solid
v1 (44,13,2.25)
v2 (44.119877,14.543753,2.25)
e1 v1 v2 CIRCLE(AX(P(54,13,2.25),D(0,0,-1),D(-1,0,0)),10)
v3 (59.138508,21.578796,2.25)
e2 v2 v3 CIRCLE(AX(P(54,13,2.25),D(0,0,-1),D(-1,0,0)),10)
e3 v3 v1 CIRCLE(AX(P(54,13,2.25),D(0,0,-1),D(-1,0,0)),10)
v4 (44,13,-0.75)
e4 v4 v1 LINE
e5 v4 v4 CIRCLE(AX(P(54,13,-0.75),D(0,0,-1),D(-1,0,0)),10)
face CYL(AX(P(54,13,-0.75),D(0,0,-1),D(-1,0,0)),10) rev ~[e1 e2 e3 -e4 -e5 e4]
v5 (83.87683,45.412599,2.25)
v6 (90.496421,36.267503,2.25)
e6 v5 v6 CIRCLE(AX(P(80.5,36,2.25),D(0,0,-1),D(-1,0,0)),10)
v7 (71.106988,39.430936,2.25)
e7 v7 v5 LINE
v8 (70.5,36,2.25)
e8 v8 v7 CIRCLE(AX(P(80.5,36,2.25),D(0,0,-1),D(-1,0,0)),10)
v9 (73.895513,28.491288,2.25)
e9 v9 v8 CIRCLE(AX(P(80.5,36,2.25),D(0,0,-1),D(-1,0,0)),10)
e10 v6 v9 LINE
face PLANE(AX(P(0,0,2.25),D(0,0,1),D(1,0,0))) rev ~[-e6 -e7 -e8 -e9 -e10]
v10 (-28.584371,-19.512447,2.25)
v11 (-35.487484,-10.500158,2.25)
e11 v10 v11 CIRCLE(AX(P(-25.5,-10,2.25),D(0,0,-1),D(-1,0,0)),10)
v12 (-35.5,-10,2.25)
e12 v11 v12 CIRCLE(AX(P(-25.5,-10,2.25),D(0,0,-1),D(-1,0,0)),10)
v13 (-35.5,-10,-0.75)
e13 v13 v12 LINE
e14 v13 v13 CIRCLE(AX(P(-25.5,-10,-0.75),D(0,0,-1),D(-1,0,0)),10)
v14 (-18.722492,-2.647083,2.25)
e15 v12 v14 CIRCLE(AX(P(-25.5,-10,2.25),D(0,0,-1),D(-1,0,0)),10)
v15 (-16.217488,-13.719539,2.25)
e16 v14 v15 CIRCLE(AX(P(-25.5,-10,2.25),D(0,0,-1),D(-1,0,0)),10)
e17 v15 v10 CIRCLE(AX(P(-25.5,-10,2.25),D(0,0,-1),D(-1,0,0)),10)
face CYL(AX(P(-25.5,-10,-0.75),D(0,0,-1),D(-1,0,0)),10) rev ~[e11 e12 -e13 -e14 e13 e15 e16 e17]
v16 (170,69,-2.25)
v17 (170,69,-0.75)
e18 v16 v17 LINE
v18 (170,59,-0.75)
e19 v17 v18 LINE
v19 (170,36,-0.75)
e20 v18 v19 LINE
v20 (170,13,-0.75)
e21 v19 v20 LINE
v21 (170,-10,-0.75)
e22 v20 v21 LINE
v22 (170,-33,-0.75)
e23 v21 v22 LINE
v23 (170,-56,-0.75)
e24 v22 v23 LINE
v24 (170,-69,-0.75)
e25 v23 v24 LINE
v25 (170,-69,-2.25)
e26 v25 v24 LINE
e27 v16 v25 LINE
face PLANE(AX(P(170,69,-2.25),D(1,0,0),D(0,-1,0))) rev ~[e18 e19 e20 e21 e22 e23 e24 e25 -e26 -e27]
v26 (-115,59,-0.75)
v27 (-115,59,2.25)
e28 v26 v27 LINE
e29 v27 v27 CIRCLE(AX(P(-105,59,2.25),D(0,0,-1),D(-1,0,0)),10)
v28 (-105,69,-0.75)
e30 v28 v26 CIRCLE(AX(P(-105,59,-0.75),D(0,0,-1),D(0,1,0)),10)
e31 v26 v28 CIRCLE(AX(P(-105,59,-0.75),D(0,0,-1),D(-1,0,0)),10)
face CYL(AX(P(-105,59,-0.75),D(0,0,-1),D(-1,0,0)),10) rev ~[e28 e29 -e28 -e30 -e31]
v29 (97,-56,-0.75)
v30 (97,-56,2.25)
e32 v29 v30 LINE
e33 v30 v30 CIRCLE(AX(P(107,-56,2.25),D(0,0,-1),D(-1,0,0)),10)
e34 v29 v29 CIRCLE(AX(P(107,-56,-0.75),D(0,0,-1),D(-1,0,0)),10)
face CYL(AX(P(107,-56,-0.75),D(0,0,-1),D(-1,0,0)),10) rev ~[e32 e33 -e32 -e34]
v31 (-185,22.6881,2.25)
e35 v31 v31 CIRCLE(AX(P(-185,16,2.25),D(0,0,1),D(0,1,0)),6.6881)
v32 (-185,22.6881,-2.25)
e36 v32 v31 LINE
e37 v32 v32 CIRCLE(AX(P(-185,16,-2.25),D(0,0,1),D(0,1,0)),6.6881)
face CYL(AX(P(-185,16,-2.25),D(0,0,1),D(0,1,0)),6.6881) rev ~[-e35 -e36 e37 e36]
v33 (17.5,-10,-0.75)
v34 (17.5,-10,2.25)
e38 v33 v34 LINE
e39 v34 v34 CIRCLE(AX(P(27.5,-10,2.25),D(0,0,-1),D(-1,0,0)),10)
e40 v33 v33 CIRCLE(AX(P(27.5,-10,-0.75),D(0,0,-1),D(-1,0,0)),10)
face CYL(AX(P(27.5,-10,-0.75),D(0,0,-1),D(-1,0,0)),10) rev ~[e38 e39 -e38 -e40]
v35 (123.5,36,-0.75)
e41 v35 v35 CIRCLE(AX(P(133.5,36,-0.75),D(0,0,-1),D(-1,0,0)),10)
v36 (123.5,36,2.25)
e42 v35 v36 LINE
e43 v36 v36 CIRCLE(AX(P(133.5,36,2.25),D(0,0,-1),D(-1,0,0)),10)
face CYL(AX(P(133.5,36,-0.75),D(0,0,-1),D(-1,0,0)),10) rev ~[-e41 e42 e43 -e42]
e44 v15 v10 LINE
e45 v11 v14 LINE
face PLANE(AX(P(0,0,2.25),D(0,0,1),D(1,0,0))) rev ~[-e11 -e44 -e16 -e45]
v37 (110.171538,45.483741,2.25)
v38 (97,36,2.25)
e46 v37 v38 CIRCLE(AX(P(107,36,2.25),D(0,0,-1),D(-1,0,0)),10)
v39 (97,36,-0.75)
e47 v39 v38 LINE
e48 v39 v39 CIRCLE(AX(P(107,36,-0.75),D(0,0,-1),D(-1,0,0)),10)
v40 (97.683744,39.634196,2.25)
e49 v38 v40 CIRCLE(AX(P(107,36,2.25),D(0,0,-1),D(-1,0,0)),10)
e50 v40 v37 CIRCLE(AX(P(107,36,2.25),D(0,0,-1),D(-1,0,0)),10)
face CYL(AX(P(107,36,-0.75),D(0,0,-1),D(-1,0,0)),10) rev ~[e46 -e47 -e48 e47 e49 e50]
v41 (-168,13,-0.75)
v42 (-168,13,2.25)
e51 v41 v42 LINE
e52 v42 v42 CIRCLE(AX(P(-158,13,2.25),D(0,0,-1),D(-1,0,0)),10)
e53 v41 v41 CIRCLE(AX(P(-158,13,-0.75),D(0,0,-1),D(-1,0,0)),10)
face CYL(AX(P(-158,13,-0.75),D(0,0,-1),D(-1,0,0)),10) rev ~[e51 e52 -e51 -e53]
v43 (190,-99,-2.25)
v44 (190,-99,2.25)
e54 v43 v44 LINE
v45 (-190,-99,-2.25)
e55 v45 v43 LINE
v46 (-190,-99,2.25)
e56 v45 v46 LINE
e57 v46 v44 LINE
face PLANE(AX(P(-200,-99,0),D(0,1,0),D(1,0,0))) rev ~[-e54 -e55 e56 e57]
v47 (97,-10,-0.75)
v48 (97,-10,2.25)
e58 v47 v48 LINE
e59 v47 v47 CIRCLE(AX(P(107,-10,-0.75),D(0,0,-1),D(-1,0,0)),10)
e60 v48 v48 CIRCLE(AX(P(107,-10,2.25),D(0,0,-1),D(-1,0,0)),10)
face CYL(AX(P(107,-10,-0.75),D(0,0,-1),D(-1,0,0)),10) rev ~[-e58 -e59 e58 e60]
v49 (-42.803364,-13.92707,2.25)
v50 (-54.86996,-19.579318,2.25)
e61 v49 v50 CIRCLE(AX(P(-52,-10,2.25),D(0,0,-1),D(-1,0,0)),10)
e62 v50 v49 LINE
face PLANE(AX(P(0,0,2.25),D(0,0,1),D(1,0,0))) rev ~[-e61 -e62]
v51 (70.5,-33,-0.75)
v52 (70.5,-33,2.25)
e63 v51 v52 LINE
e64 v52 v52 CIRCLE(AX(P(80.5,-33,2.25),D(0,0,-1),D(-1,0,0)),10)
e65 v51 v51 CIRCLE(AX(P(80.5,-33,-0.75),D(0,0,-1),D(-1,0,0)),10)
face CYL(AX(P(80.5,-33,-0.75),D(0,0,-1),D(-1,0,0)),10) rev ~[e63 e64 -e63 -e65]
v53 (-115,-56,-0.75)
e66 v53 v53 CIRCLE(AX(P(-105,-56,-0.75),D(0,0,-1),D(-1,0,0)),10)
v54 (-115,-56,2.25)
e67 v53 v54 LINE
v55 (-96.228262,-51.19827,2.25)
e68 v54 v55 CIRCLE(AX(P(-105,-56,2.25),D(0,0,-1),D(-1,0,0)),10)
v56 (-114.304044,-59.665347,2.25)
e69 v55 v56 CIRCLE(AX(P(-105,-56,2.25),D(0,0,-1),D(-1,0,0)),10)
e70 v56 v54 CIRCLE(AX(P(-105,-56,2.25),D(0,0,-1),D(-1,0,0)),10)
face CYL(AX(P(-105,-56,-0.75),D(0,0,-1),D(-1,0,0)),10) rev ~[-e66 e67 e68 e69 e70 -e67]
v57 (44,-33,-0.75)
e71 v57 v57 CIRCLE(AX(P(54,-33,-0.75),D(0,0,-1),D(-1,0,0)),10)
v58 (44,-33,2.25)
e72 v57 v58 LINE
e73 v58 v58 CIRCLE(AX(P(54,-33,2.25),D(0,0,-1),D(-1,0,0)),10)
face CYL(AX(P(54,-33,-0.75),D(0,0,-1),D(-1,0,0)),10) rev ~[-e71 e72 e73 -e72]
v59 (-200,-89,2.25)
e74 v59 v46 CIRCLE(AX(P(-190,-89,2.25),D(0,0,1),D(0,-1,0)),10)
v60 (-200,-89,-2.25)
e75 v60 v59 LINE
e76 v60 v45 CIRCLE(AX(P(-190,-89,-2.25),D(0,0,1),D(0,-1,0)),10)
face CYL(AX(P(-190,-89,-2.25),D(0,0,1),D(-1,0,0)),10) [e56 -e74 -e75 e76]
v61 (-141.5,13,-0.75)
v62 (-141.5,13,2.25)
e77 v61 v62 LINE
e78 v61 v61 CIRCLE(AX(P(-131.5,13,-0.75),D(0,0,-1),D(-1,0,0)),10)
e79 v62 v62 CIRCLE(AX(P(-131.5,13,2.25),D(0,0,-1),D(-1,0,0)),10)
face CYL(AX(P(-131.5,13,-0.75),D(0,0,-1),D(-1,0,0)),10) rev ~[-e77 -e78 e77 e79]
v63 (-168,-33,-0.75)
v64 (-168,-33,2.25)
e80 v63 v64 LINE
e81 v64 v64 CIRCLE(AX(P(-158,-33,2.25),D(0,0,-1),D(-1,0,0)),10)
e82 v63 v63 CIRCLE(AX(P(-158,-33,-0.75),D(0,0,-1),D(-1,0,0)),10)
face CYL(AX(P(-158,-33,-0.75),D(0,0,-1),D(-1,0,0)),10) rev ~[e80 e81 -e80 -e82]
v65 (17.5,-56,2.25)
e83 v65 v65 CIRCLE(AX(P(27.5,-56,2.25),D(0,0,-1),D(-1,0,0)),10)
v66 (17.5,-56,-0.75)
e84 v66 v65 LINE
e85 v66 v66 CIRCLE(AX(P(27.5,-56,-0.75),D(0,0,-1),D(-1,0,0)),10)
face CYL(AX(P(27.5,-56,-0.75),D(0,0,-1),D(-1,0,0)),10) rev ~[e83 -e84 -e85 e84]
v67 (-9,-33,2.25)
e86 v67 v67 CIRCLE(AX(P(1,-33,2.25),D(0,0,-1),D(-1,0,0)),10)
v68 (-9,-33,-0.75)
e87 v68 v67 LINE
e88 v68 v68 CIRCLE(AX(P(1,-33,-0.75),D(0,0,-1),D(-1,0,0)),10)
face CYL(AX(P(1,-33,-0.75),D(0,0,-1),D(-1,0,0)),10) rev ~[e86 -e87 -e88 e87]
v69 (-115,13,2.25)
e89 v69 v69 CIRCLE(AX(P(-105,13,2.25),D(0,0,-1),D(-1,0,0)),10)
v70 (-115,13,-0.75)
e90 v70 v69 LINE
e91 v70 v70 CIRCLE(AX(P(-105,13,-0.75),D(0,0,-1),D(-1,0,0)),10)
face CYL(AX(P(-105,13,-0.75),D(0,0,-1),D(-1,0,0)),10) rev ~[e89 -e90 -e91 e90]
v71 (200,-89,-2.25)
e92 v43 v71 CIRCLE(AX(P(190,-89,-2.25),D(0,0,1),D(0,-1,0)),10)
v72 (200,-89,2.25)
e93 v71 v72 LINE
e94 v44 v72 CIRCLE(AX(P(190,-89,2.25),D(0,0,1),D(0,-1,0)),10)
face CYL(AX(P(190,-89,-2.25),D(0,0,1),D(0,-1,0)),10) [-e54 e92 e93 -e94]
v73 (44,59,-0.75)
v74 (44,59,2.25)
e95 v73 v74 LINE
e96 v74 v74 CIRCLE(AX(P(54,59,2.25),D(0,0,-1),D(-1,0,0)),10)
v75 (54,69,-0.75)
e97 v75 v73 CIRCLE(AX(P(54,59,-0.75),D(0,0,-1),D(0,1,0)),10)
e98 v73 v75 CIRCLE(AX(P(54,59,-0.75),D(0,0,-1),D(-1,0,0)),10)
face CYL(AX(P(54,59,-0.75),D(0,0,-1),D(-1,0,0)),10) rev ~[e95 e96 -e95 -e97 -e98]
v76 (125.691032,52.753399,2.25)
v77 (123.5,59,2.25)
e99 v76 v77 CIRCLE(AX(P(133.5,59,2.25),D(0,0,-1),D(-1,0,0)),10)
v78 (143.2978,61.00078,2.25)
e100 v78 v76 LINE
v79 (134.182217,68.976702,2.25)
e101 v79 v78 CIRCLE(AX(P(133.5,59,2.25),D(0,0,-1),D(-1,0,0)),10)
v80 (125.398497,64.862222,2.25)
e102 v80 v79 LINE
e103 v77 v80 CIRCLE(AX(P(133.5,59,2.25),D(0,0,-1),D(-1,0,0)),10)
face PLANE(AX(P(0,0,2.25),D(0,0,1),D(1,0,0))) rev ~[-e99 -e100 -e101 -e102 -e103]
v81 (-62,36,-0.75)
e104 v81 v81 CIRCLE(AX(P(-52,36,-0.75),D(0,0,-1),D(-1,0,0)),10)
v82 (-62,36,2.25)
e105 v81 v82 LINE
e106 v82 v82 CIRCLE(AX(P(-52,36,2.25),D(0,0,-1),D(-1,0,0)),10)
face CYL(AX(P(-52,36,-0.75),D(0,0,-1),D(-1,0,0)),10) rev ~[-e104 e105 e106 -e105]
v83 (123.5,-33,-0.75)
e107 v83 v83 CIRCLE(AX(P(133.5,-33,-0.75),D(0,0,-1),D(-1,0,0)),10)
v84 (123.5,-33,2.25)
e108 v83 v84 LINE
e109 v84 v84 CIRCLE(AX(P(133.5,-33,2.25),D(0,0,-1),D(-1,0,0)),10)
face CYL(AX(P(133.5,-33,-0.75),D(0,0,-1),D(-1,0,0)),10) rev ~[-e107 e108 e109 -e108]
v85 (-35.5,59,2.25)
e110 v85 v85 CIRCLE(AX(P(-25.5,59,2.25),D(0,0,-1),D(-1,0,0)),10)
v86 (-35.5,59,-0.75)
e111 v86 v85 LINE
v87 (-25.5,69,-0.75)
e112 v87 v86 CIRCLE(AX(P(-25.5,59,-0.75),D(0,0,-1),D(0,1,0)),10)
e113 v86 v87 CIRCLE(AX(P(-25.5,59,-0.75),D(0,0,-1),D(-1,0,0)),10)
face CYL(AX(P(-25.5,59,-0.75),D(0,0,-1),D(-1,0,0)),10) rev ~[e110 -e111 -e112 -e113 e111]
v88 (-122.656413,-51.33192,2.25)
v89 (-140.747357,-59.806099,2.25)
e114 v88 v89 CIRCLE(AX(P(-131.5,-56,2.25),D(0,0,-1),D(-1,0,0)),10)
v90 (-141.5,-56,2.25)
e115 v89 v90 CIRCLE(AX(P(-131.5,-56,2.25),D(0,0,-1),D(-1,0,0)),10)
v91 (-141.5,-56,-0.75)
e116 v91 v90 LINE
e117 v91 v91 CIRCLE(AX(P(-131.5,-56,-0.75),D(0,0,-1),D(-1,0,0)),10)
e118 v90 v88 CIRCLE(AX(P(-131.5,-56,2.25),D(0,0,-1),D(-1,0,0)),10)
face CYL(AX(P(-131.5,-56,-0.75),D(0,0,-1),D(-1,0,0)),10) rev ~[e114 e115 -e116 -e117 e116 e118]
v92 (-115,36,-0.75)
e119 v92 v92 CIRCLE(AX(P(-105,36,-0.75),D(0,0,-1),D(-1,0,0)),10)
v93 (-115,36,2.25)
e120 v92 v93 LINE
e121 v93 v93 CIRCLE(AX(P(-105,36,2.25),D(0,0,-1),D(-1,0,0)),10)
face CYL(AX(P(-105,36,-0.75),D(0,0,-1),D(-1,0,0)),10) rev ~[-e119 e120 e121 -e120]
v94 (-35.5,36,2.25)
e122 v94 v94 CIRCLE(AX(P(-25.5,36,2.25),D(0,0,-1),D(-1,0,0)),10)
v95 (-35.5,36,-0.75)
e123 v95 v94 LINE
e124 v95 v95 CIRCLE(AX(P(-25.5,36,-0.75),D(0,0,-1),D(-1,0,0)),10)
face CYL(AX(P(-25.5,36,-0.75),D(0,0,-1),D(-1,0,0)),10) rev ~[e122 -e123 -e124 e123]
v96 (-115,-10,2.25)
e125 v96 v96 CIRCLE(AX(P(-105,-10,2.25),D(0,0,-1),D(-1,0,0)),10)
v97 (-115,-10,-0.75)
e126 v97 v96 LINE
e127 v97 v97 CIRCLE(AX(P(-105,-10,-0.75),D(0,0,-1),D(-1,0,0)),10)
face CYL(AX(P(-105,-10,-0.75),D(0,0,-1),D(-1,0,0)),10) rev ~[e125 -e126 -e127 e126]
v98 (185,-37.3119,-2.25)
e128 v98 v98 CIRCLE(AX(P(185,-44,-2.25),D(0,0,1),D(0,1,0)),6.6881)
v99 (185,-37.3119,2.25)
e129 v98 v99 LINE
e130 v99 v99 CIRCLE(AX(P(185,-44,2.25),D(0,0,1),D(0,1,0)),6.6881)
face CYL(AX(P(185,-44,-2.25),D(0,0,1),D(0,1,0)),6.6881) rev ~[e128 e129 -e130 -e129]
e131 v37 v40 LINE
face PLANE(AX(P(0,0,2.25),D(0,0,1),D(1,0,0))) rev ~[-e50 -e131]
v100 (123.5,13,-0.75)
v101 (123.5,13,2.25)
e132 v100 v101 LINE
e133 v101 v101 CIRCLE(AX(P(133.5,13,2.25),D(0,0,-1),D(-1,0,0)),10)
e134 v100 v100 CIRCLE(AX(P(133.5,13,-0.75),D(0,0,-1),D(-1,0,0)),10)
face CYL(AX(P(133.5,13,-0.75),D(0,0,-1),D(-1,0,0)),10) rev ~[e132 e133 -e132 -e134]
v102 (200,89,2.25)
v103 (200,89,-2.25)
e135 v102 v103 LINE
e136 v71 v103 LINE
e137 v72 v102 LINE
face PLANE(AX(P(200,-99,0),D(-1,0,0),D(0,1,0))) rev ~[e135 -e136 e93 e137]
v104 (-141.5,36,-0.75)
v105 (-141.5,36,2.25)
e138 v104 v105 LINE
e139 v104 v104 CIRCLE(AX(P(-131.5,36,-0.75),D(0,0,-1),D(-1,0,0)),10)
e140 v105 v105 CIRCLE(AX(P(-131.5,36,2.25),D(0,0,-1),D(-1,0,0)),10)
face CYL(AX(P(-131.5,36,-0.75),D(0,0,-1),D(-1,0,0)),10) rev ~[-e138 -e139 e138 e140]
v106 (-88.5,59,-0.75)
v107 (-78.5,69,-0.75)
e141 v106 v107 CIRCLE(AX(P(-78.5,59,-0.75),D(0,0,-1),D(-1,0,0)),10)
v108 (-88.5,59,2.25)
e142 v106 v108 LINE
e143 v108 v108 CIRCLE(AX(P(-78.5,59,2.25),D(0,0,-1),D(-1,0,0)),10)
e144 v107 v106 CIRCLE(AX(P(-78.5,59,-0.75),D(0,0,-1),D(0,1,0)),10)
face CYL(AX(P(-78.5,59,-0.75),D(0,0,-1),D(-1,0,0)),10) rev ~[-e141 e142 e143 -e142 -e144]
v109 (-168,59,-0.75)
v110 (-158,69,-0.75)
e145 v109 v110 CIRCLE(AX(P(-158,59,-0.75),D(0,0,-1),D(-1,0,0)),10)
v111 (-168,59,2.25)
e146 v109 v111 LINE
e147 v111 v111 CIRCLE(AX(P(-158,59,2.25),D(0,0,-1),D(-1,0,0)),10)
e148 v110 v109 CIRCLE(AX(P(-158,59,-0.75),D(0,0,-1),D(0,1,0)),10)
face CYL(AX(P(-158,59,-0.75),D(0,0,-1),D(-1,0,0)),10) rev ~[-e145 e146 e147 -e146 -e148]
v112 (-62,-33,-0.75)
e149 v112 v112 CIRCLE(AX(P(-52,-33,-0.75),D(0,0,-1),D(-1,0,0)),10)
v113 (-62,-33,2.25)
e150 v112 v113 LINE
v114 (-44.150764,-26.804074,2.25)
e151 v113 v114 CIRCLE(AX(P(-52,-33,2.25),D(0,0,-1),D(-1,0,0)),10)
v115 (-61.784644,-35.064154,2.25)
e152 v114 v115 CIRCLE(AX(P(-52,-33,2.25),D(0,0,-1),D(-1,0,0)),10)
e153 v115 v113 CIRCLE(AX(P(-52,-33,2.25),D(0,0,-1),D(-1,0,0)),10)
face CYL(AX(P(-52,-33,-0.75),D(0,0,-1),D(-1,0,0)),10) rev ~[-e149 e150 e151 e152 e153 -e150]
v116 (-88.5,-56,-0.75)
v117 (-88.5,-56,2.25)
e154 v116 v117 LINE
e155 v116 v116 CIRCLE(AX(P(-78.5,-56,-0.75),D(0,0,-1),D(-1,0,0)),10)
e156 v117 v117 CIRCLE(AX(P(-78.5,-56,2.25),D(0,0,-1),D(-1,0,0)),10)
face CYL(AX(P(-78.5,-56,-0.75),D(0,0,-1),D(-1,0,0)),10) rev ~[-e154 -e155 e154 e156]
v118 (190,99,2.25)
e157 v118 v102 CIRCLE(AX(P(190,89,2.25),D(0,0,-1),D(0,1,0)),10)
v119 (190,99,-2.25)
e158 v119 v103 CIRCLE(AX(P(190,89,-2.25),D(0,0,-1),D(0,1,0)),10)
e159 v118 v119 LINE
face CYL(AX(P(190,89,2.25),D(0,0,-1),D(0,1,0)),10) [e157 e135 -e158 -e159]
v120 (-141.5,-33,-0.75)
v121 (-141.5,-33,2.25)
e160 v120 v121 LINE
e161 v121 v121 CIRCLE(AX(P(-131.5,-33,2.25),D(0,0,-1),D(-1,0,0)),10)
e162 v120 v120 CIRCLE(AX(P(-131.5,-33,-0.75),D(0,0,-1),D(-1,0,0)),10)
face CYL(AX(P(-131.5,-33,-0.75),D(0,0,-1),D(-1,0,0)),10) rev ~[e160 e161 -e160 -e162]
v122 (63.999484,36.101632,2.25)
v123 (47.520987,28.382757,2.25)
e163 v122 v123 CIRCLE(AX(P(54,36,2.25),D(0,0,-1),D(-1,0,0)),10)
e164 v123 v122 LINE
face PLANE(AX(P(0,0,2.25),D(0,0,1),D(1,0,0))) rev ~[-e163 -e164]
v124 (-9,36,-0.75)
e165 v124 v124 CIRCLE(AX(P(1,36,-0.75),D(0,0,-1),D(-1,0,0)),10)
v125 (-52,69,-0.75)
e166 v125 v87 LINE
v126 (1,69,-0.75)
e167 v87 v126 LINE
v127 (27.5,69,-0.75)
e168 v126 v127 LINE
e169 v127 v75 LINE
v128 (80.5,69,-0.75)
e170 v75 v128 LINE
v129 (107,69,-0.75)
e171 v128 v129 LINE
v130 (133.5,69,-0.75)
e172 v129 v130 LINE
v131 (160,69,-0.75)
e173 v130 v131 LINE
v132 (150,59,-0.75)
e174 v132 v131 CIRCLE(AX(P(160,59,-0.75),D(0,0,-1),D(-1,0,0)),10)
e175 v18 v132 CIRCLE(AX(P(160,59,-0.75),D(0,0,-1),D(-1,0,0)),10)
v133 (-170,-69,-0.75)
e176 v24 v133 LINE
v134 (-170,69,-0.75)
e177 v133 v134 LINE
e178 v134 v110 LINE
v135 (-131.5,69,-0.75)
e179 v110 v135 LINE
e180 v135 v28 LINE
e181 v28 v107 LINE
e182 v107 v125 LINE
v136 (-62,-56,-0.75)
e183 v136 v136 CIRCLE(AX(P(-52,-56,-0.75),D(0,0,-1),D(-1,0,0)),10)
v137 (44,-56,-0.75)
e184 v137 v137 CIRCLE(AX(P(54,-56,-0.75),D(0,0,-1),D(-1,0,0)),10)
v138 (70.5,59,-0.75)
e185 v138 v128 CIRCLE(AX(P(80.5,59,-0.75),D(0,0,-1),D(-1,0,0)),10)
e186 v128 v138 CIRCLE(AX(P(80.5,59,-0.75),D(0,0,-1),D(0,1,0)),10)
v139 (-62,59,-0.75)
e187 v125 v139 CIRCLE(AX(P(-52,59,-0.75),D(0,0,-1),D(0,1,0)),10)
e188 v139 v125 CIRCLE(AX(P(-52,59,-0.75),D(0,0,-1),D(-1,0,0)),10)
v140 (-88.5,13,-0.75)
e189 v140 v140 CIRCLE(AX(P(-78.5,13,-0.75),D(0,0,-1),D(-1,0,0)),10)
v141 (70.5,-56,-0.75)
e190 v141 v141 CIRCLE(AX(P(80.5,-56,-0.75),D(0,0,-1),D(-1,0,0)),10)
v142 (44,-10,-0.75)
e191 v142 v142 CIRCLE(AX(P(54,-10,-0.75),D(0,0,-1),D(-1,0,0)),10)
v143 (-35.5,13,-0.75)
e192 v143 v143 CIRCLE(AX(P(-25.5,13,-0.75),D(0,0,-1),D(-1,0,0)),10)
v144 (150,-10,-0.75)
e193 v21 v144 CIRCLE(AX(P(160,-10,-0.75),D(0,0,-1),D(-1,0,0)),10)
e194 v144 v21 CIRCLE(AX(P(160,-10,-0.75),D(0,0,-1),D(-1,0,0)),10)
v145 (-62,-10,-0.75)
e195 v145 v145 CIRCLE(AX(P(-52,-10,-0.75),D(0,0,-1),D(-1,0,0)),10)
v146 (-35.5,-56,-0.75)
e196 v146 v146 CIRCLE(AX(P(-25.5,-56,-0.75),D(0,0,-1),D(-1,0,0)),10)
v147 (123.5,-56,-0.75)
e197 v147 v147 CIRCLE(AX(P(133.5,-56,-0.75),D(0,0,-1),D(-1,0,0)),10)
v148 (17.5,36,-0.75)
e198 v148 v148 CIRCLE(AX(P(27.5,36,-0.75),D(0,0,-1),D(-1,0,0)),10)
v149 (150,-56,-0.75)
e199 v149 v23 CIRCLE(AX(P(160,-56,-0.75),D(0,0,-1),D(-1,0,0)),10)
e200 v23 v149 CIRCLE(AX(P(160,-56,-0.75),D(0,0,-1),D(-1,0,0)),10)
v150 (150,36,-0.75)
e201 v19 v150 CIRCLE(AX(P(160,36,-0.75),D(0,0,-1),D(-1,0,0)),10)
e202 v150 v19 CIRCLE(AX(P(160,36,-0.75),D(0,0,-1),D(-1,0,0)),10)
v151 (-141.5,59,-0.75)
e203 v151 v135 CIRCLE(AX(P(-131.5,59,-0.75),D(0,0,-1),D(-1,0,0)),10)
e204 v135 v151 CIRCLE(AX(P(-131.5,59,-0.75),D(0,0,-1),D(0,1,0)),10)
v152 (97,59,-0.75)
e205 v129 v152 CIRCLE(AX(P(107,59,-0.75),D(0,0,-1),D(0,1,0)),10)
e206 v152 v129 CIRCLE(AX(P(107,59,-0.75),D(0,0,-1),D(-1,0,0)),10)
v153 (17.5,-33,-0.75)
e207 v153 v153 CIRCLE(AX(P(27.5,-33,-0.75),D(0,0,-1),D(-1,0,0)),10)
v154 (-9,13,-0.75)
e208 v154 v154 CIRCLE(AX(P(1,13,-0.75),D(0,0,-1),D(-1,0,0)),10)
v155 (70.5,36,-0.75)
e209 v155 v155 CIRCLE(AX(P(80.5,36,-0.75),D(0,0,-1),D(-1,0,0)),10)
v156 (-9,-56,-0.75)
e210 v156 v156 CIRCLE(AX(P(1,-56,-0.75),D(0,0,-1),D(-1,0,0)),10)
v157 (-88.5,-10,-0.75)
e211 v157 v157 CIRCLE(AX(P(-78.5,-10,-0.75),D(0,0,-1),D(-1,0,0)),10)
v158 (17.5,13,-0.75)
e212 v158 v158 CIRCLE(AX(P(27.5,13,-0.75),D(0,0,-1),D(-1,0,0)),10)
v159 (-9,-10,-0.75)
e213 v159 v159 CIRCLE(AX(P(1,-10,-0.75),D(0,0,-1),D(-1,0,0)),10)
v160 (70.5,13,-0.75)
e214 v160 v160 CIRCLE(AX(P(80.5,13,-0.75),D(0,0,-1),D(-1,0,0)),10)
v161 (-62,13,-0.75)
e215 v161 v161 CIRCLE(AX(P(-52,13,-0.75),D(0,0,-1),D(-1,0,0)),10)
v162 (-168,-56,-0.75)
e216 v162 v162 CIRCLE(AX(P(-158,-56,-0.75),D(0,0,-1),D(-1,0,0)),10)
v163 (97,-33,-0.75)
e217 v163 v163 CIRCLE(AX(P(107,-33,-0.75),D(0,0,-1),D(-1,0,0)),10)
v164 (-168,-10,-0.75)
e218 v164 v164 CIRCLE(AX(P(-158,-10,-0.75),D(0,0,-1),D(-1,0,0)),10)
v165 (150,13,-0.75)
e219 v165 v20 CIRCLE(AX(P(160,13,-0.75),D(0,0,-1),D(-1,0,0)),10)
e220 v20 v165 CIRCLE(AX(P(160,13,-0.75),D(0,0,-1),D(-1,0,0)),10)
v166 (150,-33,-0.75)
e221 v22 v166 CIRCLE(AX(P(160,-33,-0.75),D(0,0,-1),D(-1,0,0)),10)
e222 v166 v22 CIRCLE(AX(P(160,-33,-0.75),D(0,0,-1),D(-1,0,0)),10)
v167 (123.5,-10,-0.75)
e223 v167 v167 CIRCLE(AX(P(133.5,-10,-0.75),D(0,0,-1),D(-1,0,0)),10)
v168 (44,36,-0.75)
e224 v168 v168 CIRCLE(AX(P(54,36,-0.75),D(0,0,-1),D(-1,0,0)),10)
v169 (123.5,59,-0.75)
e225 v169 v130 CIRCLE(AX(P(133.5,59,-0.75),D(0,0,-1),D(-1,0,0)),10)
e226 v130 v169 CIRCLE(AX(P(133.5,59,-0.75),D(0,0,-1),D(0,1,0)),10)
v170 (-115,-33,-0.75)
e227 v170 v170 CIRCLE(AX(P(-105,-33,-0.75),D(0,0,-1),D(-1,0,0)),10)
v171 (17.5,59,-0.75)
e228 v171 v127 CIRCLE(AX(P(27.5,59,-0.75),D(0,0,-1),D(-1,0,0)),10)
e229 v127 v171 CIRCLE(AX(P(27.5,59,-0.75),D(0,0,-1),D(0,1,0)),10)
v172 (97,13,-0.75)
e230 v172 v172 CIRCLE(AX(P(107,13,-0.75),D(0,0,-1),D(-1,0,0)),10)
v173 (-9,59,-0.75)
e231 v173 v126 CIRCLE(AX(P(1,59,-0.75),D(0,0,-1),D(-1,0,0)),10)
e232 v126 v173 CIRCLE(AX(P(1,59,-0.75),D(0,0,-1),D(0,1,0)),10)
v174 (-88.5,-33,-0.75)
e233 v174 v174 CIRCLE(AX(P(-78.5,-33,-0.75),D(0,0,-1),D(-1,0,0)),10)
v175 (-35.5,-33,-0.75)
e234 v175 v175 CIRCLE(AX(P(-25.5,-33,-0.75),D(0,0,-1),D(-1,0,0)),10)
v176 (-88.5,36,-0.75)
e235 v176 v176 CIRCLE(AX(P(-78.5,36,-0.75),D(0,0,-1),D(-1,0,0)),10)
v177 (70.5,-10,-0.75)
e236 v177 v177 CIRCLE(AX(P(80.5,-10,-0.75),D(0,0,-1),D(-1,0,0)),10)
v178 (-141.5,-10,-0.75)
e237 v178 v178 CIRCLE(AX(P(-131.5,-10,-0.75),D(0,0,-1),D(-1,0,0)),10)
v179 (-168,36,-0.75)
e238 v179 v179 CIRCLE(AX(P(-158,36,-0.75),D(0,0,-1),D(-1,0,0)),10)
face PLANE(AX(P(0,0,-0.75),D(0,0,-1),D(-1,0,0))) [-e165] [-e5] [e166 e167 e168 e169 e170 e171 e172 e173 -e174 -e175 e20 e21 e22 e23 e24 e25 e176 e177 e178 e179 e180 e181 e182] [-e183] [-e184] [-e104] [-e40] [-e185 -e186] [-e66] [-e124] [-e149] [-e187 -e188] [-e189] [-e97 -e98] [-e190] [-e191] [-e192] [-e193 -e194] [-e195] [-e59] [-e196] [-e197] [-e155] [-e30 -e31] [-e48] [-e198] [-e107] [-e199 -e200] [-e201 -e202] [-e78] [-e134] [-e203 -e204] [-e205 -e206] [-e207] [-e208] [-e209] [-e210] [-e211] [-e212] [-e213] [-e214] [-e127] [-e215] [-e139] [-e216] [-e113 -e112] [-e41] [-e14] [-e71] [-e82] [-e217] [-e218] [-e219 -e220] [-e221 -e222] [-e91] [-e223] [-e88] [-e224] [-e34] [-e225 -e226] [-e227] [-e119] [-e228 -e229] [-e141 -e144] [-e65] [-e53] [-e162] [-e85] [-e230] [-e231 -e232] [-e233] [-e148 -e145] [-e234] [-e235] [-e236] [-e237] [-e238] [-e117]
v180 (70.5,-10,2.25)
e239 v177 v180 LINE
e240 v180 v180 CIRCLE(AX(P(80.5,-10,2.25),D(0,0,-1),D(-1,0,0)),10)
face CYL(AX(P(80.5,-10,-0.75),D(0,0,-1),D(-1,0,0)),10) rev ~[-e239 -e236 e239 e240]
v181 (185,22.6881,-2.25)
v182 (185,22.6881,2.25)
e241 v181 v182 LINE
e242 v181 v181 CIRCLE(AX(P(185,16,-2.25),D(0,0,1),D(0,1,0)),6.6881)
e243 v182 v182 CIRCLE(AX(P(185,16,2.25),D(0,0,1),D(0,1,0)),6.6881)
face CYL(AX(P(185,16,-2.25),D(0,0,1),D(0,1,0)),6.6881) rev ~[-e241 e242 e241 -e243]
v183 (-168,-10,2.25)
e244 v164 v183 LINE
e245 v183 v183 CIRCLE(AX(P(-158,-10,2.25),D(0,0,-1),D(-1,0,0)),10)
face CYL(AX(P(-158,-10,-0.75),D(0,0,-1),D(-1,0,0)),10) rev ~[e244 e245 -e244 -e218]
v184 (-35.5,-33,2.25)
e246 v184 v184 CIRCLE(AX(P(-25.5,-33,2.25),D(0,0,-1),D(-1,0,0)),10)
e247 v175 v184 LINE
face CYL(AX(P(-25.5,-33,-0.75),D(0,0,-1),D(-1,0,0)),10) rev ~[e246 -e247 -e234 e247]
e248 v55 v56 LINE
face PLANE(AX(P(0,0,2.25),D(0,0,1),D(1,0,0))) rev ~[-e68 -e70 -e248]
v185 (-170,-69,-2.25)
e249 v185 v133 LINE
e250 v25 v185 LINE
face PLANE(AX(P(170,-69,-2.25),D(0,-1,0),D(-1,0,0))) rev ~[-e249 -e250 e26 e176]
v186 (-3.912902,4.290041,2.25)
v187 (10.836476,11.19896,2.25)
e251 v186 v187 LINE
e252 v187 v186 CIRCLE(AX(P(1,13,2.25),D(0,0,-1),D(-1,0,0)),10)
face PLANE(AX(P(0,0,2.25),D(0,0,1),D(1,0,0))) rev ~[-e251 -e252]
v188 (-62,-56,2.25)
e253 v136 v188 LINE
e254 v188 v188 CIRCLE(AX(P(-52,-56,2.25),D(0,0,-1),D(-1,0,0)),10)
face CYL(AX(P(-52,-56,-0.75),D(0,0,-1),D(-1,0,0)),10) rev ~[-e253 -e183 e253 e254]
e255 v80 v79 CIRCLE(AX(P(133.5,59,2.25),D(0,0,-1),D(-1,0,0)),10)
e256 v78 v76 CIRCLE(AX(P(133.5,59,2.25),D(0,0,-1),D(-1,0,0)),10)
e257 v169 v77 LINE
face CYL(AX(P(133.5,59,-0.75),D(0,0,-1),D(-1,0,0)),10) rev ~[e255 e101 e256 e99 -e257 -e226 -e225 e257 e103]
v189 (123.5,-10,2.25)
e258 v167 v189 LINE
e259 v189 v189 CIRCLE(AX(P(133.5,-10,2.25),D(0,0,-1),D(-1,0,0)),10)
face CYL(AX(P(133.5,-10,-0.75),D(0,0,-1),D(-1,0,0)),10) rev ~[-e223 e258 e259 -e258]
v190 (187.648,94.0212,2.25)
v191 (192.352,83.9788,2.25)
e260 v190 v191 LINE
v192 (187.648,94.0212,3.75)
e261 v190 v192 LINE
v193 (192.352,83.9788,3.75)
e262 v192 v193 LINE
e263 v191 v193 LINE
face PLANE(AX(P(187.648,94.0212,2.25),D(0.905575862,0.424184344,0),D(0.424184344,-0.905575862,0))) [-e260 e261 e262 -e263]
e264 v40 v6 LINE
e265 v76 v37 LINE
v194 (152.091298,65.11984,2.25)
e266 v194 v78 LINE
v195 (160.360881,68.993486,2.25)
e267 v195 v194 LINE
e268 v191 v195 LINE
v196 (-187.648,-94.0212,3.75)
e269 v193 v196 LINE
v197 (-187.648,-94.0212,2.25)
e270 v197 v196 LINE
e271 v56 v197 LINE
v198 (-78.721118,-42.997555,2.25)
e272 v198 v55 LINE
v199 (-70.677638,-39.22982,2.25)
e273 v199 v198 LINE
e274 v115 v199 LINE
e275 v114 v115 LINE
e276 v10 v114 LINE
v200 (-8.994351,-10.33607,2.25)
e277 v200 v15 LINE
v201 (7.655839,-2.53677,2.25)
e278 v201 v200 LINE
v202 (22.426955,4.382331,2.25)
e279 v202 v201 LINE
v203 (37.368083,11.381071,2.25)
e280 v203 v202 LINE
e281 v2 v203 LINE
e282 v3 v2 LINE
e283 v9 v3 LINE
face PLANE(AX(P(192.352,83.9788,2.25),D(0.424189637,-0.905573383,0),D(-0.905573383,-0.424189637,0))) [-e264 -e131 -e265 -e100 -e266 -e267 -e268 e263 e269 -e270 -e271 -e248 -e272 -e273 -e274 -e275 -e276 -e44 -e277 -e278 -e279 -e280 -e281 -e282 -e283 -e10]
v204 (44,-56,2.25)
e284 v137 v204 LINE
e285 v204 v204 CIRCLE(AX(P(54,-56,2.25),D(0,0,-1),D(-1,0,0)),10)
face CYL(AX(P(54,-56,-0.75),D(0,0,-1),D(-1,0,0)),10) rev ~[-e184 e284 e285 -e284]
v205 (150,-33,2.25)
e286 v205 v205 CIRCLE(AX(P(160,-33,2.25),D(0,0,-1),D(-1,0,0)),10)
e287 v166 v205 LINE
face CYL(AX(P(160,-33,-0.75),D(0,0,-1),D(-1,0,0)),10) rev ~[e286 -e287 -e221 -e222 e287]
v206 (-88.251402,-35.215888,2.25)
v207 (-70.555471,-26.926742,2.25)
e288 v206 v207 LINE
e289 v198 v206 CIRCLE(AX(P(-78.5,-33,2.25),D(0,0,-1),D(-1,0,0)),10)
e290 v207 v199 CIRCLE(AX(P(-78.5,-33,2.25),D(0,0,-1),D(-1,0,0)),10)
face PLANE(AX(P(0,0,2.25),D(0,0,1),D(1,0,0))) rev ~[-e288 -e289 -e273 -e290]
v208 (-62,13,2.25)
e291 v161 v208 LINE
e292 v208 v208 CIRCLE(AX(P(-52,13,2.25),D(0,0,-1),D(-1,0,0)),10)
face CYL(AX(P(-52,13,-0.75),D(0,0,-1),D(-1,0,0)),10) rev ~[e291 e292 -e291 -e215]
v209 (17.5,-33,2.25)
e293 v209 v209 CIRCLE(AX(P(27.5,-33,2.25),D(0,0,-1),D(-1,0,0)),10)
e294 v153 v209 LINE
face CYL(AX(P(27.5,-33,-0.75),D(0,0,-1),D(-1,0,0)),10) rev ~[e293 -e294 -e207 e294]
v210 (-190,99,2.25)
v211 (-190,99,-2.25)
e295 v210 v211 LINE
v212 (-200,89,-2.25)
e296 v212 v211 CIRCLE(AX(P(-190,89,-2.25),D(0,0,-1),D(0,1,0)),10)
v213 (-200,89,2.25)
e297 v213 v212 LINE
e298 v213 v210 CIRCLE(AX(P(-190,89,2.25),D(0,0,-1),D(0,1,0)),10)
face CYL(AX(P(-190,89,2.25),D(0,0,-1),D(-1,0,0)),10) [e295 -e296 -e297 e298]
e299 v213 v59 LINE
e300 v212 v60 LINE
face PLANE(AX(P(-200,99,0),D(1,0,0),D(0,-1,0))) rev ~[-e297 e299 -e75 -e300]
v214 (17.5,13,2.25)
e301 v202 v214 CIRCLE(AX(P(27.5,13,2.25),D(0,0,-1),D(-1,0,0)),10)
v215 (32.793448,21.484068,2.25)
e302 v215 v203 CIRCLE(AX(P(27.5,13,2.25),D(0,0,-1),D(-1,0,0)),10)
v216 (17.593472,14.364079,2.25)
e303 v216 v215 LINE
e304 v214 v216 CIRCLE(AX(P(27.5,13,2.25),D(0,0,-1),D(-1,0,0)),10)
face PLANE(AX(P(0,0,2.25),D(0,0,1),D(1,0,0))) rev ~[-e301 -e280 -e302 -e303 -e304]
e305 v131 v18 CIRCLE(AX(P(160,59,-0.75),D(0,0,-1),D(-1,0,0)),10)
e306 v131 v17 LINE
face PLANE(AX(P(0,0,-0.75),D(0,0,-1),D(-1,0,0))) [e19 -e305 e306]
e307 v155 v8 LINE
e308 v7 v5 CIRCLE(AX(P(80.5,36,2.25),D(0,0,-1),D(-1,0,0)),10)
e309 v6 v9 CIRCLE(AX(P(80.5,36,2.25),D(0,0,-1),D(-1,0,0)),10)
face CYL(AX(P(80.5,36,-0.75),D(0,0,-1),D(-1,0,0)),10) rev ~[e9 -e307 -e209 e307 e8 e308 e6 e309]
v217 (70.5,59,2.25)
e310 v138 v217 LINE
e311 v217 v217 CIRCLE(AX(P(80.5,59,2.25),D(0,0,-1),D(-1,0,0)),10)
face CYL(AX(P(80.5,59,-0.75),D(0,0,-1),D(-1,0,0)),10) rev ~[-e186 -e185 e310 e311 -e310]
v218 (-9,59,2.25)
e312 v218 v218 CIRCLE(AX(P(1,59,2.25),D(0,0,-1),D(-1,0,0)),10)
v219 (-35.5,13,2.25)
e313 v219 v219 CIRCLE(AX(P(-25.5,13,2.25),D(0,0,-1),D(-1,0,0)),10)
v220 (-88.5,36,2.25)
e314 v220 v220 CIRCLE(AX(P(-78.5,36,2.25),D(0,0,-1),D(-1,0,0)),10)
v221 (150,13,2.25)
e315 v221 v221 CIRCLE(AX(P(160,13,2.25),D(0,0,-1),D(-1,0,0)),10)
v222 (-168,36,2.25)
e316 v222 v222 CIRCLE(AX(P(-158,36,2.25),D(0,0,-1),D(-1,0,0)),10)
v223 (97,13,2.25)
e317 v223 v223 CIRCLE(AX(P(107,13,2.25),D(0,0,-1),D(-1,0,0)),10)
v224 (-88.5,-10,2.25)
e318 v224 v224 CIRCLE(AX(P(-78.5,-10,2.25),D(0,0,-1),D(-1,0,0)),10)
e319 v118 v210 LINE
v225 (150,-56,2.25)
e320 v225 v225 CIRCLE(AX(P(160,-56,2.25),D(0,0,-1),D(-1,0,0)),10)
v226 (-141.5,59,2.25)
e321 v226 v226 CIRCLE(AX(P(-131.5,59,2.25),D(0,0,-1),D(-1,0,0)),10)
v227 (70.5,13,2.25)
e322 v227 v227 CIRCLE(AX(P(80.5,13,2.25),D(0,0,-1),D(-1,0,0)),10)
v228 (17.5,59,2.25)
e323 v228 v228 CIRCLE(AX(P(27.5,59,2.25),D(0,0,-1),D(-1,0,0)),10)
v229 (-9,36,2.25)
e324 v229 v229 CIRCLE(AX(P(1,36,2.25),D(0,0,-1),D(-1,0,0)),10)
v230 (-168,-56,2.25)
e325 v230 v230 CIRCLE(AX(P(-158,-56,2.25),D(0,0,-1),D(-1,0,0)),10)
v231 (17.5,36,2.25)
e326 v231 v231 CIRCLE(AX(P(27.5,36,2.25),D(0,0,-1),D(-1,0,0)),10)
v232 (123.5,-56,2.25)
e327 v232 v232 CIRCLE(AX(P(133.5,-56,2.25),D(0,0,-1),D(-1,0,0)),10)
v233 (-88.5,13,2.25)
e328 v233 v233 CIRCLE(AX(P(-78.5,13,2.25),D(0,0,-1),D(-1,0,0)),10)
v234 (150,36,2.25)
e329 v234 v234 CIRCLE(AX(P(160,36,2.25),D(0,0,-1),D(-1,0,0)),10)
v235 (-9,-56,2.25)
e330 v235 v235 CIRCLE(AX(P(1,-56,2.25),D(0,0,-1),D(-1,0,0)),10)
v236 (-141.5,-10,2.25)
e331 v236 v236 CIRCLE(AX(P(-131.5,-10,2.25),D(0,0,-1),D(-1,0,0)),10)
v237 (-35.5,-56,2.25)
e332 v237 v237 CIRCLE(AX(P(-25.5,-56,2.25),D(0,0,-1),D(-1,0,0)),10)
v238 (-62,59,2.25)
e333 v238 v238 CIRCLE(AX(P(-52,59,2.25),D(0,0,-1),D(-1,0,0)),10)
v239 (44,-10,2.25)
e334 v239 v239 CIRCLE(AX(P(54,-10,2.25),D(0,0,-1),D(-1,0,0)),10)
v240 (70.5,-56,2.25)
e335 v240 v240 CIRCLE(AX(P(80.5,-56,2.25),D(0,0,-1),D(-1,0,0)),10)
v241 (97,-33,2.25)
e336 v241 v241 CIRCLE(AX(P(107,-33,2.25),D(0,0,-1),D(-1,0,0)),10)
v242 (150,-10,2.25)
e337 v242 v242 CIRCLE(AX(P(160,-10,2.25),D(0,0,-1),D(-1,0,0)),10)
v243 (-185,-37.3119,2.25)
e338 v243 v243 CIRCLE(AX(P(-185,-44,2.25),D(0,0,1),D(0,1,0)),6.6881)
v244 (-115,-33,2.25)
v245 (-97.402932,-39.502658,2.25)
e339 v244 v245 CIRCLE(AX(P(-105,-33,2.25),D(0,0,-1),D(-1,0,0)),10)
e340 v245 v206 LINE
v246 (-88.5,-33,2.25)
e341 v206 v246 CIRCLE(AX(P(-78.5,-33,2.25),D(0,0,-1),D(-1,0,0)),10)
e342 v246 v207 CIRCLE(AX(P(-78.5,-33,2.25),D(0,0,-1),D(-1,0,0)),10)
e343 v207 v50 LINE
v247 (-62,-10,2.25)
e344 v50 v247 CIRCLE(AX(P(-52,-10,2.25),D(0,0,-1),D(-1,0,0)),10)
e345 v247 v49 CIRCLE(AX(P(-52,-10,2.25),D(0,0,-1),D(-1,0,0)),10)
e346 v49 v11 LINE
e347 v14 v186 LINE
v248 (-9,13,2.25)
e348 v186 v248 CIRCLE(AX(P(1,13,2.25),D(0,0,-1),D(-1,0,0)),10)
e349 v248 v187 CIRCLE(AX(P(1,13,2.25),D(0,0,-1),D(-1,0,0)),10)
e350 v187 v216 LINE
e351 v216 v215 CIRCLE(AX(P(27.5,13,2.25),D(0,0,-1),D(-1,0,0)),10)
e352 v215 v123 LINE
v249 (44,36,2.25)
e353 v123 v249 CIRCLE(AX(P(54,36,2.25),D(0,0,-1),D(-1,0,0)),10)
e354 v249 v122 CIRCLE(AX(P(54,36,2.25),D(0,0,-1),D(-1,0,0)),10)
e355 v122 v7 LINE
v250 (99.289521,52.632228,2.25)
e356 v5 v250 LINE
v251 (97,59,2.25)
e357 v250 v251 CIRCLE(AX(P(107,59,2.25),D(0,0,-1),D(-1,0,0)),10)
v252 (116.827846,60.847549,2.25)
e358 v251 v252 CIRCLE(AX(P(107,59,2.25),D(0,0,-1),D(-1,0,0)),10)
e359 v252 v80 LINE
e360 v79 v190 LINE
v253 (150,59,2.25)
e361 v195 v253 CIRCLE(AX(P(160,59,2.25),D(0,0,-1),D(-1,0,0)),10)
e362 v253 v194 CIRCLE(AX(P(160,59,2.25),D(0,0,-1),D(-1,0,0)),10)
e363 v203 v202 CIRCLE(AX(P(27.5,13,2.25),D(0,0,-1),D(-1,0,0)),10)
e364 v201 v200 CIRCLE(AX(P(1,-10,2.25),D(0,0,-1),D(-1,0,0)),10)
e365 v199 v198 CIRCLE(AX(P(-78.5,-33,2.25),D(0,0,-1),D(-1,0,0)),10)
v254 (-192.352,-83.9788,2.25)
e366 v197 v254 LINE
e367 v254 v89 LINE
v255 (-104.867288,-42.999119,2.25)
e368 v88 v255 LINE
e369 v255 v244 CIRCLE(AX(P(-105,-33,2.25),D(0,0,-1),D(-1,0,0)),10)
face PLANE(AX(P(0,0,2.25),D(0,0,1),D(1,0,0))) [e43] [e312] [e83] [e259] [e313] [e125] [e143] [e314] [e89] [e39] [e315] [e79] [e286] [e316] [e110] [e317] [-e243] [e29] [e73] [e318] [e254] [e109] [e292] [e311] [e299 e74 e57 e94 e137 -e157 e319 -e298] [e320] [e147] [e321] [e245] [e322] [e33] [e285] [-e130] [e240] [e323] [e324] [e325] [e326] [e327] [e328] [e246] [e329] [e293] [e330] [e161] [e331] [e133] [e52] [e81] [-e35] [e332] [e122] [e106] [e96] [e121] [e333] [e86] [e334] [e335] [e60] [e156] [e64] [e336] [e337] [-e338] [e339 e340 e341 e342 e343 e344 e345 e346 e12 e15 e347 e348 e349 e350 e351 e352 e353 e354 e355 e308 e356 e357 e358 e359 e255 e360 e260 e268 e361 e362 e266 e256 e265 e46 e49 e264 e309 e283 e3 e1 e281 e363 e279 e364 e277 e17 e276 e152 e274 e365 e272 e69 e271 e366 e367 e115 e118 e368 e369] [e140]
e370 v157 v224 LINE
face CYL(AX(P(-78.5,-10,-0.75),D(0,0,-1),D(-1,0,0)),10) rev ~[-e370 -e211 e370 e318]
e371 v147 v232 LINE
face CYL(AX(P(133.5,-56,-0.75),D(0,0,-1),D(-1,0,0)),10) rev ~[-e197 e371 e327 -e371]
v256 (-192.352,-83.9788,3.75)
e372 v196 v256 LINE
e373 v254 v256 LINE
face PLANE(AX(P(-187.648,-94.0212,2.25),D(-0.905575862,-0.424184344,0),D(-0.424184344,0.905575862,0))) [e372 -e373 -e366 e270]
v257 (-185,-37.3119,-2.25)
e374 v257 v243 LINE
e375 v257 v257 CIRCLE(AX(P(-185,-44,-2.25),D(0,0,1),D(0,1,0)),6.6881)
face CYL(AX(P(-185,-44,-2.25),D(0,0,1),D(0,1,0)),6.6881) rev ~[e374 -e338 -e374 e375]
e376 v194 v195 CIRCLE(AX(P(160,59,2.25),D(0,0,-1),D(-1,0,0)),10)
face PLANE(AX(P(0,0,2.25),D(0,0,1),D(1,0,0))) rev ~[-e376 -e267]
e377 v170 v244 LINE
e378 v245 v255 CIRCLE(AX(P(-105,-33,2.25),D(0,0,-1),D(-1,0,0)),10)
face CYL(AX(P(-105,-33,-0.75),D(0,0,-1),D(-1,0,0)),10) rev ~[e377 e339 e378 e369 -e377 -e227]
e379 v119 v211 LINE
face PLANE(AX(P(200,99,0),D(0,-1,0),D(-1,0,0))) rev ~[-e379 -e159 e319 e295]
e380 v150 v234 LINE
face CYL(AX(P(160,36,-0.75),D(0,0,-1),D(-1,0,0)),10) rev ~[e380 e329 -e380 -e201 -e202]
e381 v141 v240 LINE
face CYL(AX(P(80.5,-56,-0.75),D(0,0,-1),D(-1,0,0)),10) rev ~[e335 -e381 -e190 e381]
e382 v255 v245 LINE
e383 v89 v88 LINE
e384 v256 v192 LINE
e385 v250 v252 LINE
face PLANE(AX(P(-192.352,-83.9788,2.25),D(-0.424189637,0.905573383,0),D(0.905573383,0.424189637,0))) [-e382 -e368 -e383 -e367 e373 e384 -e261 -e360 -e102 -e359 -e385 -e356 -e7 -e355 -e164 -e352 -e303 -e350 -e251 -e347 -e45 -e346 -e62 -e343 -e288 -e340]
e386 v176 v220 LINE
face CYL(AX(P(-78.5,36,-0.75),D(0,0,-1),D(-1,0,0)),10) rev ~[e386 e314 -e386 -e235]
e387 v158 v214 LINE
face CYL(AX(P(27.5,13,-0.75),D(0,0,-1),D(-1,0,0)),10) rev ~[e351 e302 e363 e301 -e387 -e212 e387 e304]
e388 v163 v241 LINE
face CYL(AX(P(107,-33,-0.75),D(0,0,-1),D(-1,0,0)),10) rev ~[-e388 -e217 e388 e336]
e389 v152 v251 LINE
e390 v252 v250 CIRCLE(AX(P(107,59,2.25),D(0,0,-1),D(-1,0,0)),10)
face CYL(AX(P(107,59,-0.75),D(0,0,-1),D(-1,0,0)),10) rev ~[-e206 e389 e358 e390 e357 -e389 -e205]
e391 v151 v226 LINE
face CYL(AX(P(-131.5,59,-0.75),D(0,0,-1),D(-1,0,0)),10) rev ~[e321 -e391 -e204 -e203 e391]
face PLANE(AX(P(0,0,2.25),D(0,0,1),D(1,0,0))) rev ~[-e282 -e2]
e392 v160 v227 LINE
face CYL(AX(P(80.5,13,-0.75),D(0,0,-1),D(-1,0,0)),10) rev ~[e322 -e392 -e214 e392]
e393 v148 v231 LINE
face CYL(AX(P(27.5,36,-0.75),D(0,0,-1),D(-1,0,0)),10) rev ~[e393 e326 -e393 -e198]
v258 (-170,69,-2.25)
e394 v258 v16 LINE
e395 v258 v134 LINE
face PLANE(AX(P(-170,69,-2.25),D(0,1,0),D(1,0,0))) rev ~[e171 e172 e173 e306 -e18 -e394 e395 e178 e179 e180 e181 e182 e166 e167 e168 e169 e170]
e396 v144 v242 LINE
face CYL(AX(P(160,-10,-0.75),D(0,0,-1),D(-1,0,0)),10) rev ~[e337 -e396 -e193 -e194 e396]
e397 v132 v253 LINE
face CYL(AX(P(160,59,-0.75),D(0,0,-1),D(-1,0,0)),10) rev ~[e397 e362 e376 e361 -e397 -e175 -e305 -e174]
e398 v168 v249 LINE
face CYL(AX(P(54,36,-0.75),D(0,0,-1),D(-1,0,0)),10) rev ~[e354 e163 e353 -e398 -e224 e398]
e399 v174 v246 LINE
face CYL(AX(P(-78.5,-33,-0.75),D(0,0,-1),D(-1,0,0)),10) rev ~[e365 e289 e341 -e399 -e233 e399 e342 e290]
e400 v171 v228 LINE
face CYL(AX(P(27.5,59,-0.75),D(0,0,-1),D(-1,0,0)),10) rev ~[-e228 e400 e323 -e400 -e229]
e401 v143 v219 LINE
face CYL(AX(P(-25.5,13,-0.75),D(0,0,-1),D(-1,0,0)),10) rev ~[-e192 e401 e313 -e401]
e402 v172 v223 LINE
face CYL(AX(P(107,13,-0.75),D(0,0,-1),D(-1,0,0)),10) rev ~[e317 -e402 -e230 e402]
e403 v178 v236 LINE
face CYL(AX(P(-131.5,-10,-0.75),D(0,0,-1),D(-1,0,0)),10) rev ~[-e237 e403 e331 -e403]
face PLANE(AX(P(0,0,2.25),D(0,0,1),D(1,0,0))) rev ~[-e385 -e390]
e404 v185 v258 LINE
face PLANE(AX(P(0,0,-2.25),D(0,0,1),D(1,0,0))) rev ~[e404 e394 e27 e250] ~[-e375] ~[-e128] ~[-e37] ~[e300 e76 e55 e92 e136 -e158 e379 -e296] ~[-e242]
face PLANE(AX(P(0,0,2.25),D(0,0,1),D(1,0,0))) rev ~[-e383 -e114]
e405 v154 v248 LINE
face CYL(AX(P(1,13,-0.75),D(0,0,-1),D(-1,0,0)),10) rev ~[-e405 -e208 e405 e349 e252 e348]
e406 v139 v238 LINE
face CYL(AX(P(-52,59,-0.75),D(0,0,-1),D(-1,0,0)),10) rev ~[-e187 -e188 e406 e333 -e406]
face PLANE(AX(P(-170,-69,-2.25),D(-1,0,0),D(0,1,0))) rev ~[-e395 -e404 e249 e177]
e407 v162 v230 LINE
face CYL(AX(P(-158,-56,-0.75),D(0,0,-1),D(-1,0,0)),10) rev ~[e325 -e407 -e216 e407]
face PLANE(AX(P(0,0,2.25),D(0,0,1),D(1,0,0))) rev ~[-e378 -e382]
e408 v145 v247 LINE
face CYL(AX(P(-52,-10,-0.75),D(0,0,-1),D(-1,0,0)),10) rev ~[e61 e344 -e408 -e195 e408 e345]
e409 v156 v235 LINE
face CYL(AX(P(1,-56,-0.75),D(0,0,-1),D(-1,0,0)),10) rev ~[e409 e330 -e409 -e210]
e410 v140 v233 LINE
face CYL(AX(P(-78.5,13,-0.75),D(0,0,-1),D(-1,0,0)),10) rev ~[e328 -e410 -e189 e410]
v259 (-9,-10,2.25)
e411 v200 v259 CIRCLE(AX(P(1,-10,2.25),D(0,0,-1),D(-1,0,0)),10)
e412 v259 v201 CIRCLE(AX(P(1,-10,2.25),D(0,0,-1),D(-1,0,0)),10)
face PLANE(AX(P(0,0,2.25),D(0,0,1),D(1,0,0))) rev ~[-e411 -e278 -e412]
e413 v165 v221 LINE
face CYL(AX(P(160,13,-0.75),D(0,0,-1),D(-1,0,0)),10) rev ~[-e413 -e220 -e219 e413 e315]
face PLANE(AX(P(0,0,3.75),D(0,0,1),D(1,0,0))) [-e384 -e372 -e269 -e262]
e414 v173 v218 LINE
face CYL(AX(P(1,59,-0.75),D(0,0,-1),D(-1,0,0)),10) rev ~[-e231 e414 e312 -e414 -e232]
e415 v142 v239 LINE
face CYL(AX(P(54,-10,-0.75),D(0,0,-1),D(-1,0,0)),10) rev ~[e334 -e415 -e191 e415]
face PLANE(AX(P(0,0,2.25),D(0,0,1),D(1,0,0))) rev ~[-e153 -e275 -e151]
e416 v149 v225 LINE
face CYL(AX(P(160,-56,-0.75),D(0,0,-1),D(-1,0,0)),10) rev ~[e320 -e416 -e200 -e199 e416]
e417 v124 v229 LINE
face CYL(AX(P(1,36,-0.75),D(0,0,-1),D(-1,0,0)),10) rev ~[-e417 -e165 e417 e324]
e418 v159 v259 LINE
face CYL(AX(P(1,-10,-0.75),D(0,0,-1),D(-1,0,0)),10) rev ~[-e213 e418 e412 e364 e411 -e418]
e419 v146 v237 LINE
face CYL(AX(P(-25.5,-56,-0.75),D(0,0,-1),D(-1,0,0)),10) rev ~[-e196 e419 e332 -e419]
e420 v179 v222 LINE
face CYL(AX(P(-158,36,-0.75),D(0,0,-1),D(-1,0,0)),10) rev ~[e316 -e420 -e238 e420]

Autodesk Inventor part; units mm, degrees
ref_plane "YZ Plane" through (0, 0, 0) normal (1, 0, 0) x (0, 1, 0)
ref_plane "XZ Plane" through (0, 0, 0) normal (0, 1, 0) x (-1, 0, 0)
ref_plane "XY Plane" through (0, 0, 0) normal (0, 0, 1) x (1, 0, 0)
sketch "Skizze1" plane through (0, 0, 0) normal (0, 0, 1) x (1, 0, 0)
  line L0 (-200, -99) -> (200, -99)
  line L1 (200, -99) -> (200, 99)
  line L2 (200, 99) -> (-200, 99)
  line L3 (-200, 99) -> (-200, -99)
  line L4 (-200, -99) -> (200, 99) construction
  line L5 (200, -99) -> (-200, 99) construction
  point P0 (0, 0)
  dimension "d0" = 400
  dimension "d1" = 198
extrude "Extrusion1" add sketch "Skizze1" along normal mid plane 4.5
sketch "Skizze2" plane through (0, 0, -2.25) normal (0, 0, -1) x (-1, 0, 0)
  line L0 (-170, -69) -> (170, -69)
  line L1 (170, -69) -> (170, 69)
  line L2 (170, 69) -> (-170, 69)
  line L3 (-170, 69) -> (-170, -69)
  line L4 (-170, -69) -> (170, 69) construction
  line L5 (170, -69) -> (-170, 69) construction
  line L6 (-200, 99) -> (-200, -99) projected
  line L7 (200, 99) -> (-200, 99) projected
  point P0 (0, 0)
  dimension "d4" = 30
  dimension "d5" = 30
extrude "Extrusion2" cut sketch "Skizze2" against normal blind 1.5
sketch "Skizze3" plane through (0, 0, -0.75) normal (0, 0, -1) x (-1, 0, 0)
  circle A0 centre (-160, 59) radius 10
  line L0 (-170, 69) -> (170, 69) projected
  line L1 (-170, -69) -> (-170, 69) projected
  point P0 (0, 0)
  dimension "d8" = 20
extrude "Extrusion3" cut sketch "Skizze3" against normal up to surface (3 mm away) contours A0
pattern_linear "Rechteckige Anordnung1" count 6 spacing 23 along (0, -1, 0) of "Extrusion3"
pattern_linear "Rechteckige Anordnung2" count 13 spacing 26.5 along (-1, 0, 0) of "Extrusion3", "Rechteckige Anordnung1"
fillet "Rundung1" radius 10 4 edges at (200, 99, 0) (-200, 99, 0) (-200, -99, 0) (200, -99, 0)
sketch "Skizze4" plane through (0, 0, -2.25) normal (0, 0, -1) x (-1, 0, 0)
  line L0 (-200, 89) -> (-200, -89) projected
  line L1 (200, -89) -> (200, 89) projected
  line L2 (-190, -99) -> (190, -99) projected
  point P0 (0, 0)
  point P1 (-185, -44)
  point P2 (-185, 16)
  point P3 (185, 16)
  point P4 (185, -44)
  dimension "d25" = 60
  dimension "d26" = 60
  dimension "d27" = 15
  dimension "d28" = 15
  dimension "d29" = 55
hole "Bohrung1" at (185, -44, -2.25) at (185, 16, -2.25) at (-185, 16, -2.25) at (-185, -44, -2.25) direction (0, 0, 1) diameter 13.3762 depth 4.5 thread size "M15x1.5" class "6H" standard "ISO Metric profile"
sketch "Skizze6" plane through (0, 0, 2.25) normal (0, 0, 1) x (1, 0, 0)
  line L0 (190, 99) -> (-190, 99) projected
  arc A0 (-200, -89) -> (-190, -99) centre (-190, -89) ccw projected
  arc A1 (200, 89) -> (190, 99) centre (190, 89) ccw projected
  line L1 (190, 89) -> (-190, -89) construction
  line L2 (192.352, 83.9788) -> (-187.648, -94.0212)
  line L3 (-187.648, -94.0212) -> (-192.352, -83.9788)
  line L4 (-192.352, -83.9788) -> (187.648, 94.0212)
  line L5 (187.648, 94.0212) -> (192.352, 83.9788)
  point P0 (0, 0)
  point P1 (-190, -89)
  dimension "d33" = 10
  dimension "d34" = 10
  dimension "d35" = 419.6236
extrude "Extrusion5" add sketch "Skizze6" along normal blind 1.5
equation "\"d5\" = d4"
properties part number "plate" material "Eisen, Grau"
